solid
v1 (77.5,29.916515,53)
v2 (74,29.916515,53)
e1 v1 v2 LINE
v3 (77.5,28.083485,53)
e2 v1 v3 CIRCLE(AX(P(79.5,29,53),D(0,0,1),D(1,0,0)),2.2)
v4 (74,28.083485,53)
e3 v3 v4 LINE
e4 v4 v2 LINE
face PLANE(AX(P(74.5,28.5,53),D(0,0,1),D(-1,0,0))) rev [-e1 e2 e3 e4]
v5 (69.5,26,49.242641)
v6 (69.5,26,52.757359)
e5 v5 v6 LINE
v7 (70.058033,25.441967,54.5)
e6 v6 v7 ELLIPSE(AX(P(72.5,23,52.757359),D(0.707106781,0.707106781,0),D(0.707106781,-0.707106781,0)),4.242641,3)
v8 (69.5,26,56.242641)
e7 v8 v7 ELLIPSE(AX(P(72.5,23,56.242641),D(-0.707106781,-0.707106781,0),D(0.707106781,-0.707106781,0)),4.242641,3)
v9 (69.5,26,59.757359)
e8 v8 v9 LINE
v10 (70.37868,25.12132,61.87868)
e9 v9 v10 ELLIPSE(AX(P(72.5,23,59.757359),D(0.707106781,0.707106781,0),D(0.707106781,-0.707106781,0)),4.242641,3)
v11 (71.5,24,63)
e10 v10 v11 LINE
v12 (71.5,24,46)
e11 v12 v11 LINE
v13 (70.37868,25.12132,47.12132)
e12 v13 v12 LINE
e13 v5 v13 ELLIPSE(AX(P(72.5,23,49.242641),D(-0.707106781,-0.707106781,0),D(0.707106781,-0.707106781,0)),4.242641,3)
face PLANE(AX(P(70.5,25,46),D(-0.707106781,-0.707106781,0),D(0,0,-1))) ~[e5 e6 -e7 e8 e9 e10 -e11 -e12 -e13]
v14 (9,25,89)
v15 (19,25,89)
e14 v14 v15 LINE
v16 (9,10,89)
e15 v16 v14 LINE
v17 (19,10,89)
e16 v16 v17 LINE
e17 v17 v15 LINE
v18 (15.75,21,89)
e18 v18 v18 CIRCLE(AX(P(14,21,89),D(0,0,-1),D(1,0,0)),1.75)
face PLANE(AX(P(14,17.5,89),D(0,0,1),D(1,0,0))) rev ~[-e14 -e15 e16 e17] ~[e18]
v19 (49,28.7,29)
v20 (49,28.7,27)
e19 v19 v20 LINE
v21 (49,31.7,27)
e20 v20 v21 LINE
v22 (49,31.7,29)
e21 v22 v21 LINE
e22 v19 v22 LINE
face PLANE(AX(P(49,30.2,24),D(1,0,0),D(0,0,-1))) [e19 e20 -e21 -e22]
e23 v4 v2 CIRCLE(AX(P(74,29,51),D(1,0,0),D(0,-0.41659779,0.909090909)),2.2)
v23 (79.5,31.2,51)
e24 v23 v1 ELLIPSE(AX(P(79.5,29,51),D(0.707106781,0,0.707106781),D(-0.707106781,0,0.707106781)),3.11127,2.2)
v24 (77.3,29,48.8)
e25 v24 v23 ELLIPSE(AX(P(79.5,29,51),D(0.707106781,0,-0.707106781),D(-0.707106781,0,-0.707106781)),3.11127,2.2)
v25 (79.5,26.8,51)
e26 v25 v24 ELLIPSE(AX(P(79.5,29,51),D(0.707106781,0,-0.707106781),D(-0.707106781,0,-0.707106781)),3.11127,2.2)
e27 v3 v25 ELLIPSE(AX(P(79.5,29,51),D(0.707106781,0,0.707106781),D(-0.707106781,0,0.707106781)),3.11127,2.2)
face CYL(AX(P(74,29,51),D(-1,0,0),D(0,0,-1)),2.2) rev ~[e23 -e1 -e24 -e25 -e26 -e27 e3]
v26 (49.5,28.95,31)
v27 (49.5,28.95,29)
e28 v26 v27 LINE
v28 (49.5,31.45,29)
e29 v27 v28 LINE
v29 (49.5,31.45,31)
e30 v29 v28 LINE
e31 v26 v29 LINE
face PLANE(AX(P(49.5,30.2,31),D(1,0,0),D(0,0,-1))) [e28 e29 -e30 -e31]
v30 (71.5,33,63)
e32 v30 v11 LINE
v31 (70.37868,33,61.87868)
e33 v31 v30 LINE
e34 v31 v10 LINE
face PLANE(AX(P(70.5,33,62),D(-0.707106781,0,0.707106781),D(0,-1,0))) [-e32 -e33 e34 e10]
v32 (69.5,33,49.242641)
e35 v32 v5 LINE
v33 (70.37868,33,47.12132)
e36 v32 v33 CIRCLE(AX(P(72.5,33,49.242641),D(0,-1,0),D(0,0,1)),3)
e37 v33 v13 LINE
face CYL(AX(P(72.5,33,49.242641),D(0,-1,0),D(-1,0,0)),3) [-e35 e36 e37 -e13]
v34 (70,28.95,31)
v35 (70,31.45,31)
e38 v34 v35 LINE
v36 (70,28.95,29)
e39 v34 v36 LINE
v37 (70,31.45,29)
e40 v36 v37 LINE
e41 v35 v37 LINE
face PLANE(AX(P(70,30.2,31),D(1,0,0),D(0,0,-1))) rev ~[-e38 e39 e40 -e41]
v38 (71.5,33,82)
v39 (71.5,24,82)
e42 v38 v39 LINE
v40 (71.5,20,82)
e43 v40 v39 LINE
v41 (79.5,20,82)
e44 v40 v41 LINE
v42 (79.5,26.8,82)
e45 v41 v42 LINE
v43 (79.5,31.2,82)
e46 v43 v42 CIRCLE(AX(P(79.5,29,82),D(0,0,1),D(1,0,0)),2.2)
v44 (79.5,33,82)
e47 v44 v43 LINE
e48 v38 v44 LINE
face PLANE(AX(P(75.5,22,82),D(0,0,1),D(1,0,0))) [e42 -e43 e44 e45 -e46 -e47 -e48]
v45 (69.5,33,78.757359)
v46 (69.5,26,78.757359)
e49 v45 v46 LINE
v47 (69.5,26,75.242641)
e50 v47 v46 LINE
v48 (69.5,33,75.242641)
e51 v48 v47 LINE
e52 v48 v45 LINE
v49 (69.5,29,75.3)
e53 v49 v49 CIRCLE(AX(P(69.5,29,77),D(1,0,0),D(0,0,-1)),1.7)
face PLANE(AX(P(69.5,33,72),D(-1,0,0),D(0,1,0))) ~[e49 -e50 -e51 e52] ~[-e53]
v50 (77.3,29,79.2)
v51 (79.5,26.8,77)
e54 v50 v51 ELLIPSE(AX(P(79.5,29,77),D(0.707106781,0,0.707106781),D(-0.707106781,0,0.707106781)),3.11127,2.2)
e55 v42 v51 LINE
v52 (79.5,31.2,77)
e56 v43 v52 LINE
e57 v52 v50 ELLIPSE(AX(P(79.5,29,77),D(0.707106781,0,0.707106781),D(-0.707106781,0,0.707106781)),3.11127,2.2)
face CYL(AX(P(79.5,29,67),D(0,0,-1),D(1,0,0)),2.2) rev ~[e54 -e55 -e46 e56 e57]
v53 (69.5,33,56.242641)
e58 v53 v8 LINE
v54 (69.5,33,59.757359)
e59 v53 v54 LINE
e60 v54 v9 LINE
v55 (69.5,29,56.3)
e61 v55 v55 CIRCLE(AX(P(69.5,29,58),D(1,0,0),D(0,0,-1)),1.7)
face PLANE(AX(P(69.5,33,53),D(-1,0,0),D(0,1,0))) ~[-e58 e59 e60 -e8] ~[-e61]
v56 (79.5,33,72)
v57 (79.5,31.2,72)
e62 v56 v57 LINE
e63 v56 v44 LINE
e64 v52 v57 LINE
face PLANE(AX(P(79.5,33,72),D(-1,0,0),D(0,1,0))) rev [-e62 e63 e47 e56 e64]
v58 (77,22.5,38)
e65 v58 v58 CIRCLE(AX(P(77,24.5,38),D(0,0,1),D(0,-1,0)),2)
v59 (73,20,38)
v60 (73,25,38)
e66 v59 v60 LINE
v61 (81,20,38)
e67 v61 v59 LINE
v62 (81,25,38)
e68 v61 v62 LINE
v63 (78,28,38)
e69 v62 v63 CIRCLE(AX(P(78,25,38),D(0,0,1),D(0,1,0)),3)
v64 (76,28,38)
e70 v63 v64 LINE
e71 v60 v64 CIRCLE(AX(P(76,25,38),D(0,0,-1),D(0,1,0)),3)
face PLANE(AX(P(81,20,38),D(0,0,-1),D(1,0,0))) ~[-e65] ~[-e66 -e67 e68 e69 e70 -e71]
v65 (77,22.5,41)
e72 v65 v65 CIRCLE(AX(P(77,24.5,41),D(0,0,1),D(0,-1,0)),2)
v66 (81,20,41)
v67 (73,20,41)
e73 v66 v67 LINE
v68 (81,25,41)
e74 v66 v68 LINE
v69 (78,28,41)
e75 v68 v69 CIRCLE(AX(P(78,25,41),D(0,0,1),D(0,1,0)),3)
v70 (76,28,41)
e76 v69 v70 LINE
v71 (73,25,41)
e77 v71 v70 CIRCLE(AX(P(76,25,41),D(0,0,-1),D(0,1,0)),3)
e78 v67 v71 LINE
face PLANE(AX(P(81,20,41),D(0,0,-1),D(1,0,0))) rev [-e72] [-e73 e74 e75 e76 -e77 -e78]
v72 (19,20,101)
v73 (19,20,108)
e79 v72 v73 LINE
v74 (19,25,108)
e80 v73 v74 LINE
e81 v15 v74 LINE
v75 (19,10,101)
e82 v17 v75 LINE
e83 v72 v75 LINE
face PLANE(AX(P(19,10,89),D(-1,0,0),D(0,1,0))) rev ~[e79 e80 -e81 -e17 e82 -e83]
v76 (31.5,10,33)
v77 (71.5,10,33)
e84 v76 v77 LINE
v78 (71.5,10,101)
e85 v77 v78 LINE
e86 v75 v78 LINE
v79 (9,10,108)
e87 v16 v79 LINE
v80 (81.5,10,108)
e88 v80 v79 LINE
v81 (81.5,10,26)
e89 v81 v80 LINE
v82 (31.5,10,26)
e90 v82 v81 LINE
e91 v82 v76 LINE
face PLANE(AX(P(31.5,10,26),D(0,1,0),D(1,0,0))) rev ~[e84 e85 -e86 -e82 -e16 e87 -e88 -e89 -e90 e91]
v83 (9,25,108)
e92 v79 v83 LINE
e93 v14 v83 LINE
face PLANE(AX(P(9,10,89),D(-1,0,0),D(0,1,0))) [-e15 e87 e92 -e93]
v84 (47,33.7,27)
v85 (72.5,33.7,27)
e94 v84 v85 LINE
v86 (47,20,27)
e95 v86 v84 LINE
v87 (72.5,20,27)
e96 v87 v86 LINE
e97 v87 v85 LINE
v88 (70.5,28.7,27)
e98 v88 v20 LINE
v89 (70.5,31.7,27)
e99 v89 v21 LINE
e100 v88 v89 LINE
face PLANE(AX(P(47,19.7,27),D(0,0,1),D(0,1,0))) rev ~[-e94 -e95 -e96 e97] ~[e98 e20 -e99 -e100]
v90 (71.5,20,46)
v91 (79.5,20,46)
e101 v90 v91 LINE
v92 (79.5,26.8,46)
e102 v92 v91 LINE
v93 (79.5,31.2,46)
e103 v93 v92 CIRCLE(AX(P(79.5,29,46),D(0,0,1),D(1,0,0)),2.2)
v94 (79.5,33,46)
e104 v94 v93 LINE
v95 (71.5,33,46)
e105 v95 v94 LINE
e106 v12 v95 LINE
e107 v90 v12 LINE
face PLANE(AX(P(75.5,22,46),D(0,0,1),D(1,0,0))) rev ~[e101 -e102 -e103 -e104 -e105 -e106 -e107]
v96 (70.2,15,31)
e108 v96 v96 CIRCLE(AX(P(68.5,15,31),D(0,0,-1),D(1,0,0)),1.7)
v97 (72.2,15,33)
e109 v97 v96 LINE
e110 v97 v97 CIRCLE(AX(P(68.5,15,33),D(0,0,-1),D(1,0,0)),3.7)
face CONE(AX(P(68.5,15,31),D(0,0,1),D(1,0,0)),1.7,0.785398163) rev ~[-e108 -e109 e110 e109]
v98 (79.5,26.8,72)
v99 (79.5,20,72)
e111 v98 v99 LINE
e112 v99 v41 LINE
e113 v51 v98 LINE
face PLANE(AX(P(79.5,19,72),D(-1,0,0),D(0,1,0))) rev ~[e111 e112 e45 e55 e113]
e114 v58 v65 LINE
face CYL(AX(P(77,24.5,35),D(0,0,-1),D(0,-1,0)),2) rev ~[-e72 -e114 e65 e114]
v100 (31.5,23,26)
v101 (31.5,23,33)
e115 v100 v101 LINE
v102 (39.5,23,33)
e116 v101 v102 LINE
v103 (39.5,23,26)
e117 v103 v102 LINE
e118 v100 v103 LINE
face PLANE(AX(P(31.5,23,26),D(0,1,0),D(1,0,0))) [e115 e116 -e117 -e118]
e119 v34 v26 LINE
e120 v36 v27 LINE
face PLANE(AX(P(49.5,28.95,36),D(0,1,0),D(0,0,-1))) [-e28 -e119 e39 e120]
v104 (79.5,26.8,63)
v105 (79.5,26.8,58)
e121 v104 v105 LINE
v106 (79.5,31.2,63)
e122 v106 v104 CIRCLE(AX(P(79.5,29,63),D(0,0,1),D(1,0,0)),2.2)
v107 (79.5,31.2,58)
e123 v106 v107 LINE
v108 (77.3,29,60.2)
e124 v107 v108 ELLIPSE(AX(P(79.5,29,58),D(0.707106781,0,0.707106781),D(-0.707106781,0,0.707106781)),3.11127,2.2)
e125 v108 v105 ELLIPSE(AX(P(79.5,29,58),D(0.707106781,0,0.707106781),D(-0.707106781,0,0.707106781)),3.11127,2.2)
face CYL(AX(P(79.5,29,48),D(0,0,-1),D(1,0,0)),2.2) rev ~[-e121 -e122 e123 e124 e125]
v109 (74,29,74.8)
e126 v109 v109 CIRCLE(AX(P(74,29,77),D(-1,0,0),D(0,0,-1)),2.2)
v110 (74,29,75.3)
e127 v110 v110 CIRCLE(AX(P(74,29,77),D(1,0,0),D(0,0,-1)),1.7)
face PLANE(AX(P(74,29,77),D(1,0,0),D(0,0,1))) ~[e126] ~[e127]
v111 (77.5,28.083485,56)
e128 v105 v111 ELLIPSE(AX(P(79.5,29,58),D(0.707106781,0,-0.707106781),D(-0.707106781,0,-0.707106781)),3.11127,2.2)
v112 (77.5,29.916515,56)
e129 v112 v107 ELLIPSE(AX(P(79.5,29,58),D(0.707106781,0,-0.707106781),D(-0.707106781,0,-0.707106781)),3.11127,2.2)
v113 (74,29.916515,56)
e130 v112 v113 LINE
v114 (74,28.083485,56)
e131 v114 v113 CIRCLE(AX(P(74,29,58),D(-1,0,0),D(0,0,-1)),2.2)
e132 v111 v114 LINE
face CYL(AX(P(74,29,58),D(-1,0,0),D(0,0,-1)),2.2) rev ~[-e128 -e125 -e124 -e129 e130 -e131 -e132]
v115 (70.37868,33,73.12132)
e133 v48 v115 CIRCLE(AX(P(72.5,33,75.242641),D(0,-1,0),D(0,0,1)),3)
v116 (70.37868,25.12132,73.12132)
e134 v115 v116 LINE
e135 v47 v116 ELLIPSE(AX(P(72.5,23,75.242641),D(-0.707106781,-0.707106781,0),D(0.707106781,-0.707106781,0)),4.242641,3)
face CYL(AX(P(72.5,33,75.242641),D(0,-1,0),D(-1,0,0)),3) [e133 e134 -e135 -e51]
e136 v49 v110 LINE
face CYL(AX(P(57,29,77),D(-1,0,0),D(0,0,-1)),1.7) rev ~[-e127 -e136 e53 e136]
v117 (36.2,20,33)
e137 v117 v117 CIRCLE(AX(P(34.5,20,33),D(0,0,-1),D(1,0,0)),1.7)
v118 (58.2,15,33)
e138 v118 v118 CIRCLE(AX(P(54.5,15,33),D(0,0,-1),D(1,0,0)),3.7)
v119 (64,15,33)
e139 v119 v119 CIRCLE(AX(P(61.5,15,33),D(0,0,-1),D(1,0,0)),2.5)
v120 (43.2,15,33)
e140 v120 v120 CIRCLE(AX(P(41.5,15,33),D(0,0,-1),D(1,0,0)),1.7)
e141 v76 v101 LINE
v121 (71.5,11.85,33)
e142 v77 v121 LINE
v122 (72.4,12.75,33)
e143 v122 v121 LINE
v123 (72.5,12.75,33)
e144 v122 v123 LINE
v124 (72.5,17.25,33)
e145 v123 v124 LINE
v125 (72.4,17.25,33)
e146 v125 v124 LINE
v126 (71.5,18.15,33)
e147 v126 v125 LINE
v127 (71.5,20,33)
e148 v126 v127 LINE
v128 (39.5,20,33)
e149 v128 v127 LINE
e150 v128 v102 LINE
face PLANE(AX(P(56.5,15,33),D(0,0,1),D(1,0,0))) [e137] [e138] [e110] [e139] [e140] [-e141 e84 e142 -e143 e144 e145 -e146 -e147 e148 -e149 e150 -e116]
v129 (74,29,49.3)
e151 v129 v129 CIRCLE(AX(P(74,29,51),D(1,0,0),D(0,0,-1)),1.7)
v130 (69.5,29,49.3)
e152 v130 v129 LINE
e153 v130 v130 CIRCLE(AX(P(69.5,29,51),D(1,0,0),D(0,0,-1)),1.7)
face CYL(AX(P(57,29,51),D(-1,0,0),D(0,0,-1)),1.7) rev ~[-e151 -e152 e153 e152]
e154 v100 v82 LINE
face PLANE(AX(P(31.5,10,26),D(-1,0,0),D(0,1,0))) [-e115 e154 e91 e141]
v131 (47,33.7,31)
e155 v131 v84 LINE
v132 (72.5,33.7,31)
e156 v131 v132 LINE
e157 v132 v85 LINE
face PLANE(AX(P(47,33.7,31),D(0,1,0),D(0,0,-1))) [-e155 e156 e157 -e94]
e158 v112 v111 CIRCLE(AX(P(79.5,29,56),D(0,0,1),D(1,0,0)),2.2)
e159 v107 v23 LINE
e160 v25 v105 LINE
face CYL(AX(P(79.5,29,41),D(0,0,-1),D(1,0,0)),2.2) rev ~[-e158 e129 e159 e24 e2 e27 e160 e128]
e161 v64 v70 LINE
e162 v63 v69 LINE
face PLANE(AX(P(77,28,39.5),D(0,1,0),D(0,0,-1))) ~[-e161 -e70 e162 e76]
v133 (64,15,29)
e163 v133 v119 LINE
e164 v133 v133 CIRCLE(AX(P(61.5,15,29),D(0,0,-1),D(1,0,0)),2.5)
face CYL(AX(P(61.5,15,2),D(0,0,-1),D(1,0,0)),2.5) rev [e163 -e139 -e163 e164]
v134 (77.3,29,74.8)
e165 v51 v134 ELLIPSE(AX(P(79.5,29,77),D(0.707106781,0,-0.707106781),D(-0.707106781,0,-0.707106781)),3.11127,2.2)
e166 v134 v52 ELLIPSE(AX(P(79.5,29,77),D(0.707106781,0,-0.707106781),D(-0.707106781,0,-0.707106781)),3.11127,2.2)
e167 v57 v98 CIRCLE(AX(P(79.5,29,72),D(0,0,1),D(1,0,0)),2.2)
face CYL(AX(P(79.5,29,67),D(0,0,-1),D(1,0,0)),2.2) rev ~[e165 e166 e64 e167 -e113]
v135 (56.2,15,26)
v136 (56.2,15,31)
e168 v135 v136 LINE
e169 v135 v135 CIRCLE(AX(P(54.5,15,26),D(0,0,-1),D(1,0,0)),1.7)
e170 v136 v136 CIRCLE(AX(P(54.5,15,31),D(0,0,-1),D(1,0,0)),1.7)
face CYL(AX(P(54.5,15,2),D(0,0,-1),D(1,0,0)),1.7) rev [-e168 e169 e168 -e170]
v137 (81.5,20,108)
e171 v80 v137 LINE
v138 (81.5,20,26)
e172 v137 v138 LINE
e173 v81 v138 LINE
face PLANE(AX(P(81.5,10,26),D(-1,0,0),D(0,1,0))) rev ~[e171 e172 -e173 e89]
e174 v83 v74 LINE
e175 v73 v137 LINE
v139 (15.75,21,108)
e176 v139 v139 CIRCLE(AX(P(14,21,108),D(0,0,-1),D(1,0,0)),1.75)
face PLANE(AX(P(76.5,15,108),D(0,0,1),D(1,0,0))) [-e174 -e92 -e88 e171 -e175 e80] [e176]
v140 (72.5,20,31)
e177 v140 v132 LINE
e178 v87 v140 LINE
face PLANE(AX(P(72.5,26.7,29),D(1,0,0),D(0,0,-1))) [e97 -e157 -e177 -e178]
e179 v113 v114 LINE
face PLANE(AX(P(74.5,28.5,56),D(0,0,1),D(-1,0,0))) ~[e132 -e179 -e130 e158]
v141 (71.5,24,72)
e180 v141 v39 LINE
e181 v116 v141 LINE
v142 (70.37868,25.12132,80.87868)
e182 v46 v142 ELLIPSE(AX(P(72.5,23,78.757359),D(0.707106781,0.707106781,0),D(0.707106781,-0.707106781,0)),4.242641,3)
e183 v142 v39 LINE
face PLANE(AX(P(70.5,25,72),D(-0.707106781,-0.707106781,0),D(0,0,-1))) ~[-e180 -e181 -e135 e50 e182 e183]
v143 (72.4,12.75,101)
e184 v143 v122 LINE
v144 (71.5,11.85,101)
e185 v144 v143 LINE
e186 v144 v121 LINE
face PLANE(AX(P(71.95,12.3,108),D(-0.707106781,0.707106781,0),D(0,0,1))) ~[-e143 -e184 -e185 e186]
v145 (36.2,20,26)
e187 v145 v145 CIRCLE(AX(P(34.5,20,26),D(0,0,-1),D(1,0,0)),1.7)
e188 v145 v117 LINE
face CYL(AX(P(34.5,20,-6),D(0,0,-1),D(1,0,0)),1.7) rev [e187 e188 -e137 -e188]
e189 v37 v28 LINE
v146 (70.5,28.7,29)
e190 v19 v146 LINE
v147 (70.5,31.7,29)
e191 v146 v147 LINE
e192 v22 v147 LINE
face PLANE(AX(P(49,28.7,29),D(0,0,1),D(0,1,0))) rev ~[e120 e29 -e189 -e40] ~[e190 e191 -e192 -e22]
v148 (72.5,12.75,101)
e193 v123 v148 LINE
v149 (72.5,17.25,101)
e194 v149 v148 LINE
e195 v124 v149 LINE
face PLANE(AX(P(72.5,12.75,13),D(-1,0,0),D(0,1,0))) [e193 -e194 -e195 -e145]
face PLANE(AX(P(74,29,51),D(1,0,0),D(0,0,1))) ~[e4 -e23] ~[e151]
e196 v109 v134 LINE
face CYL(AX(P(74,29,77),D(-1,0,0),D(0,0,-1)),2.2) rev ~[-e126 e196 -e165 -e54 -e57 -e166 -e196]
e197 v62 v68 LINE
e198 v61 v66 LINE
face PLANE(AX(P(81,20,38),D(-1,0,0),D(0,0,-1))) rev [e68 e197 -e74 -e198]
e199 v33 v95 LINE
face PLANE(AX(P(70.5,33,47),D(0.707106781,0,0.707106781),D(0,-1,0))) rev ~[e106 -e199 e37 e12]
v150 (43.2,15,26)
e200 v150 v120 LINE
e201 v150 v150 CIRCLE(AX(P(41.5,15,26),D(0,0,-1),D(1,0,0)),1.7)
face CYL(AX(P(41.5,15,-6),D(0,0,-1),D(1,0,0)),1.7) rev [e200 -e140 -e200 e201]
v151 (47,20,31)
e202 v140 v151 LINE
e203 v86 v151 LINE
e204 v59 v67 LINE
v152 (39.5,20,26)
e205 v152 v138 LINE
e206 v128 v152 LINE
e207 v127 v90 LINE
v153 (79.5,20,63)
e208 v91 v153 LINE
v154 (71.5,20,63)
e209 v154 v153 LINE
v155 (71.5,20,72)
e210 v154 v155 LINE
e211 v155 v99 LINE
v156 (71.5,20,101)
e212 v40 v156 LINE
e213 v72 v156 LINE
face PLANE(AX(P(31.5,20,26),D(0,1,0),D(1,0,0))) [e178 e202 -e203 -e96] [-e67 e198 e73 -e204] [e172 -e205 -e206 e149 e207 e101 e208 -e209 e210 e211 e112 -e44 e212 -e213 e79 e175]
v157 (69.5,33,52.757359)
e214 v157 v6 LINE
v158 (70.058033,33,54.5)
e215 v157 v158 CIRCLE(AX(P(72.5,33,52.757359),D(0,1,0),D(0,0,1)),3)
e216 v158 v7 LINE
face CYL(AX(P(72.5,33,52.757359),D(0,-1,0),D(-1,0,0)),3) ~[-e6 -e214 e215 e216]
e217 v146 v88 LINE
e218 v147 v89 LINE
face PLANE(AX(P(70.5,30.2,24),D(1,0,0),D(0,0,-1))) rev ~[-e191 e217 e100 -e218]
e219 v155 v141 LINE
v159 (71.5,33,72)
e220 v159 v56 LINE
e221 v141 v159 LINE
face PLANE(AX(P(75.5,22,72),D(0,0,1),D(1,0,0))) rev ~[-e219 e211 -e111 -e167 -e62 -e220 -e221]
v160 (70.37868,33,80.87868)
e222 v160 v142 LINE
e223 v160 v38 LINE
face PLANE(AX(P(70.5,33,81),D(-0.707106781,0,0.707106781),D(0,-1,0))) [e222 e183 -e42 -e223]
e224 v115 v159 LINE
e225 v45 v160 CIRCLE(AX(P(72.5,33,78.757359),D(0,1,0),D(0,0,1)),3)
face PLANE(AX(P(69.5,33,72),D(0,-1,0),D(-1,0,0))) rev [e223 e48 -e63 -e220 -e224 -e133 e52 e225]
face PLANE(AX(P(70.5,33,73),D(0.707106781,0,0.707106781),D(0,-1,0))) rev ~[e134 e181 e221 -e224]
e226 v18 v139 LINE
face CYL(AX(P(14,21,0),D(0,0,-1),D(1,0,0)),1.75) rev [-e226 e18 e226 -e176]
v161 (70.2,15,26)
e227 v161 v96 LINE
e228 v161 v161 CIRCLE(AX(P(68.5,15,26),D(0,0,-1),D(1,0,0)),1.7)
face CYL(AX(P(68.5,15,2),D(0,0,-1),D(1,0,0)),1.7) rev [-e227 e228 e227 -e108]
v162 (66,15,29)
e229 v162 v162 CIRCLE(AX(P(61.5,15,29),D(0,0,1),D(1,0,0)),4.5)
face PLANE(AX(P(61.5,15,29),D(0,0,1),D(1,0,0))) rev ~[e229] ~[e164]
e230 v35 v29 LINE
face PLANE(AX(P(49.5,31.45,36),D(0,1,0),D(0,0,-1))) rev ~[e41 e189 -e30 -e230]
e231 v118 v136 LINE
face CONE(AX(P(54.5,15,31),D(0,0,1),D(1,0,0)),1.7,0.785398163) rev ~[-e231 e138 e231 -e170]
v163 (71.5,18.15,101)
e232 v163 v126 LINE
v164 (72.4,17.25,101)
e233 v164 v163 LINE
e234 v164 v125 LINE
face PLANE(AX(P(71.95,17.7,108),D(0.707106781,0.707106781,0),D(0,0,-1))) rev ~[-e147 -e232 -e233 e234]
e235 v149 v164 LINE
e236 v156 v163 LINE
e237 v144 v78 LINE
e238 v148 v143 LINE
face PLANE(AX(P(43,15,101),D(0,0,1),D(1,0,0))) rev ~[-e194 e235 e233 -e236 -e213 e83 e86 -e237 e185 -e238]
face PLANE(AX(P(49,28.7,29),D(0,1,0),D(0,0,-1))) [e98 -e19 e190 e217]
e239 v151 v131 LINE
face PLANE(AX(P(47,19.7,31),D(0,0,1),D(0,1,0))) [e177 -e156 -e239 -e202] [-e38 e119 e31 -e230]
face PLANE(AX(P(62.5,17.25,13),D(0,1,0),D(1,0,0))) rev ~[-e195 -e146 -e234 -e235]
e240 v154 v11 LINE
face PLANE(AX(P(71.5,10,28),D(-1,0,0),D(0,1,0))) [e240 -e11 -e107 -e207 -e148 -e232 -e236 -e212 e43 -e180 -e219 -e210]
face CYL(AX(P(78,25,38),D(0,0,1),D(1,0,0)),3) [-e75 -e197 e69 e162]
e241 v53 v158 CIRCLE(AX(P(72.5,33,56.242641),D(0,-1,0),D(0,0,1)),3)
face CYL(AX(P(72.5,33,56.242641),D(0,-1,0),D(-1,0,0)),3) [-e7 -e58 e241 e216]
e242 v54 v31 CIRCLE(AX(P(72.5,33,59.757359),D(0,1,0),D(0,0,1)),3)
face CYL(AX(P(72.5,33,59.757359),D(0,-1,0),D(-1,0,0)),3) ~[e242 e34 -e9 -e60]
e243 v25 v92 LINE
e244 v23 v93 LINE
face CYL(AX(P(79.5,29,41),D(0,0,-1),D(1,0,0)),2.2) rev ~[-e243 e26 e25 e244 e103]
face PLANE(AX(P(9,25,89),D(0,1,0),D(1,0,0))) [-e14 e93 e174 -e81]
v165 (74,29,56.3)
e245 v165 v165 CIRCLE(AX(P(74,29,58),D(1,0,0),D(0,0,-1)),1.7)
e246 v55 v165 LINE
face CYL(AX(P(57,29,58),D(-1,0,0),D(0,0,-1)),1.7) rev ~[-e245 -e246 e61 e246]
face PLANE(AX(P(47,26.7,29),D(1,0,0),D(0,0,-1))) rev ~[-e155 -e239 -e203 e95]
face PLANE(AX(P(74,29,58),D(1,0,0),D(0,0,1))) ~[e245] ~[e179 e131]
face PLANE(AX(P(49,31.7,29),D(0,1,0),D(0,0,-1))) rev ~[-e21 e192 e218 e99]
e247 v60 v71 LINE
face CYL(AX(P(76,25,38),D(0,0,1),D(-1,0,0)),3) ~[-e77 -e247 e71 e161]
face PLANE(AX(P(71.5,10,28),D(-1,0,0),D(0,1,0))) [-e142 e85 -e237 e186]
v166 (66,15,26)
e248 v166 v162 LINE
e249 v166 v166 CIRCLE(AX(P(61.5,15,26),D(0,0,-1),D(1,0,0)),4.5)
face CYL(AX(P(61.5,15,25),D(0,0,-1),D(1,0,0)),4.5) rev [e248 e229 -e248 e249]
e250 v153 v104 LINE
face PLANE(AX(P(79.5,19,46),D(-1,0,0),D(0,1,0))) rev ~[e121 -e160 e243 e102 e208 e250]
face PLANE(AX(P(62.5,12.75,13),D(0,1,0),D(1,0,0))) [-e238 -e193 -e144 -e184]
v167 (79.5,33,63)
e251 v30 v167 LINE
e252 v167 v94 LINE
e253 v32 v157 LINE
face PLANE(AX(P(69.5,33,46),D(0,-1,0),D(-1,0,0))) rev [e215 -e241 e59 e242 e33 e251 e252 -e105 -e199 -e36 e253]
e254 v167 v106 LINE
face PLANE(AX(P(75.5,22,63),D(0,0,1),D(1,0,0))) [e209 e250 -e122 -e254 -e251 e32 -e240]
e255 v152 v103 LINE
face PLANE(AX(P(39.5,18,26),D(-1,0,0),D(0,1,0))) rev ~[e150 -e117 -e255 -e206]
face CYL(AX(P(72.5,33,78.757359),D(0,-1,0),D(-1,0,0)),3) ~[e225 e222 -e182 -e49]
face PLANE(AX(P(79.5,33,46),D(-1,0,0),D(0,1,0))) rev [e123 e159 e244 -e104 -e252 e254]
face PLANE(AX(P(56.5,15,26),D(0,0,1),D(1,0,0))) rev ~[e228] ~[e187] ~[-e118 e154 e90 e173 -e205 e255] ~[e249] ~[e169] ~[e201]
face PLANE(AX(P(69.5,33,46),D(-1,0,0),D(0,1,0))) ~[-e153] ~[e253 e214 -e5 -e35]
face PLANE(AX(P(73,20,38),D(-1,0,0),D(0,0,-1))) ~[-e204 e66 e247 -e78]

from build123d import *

# Parameters (mm, degrees)
BOX001027045198_W       = 10
BOX001027045198_H       = 2.5
BOX001027045198_DEPTH   = 20.5
BOX001027045197_W       = 10
BOX001027045197_H       = 3
BOX001027045197_DEPTH   = 21.5
BOX001027045196_W       = 4
BOX001027045196_H       = 14
BOX001027045196_DEPTH   = 25.5
CUT238_PITCH_ANGLE      = 90
CYLINDER070_R           = 1.7
CYLINDER070_DEPTH       = 50
CYLINDER069_R           = 1.7
CYLINDER069_DEPTH       = 50
CYLINDER068_R           = 1.7
CYLINDER068_DEPTH       = 50
CYLINDER067_R           = 1.7
CYLINDER067_DEPTH       = 50
CYLINDER063_R           = 2.5
CYLINDER063_DEPTH       = 50
CYLINDER064_R           = 4.5
CYLINDER064_DEPTH       = 4
BOX035_W                = 50
BOX035_H                = 10
BOX035_DEPTH            = 7
BOX034_W                = 10
BOX034_H                = 4.5
BOX034_DEPTH            = 122
BOX033_W                = 10
BOX033_H                = 10
BOX033_DEPTH            = 80
CHAMFER_SIZE            = 0.9
BOX041_W                = 8
BOX041_H                = 5
BOX041_DEPTH            = 7
CHAMFER017_SIZE         = 2
CYLINDER273_R           = 2
CYLINDER273_DEPTH       = 10
CYLINDER273_PITCH_ANGLE = 90
BOX001027045201_W       = 3
BOX001027045201_H       = 8
BOX001027045201_DEPTH   = 8
FILLET047_R             = 3
CUT246_PITCH_ANGLE      = -90
CUT246_PLACEMENT_ANGLE  = 90
BOX001027045204_W       = 8
BOX001027045204_H       = 6
BOX001027045204_DEPTH   = 17
BOX001027045205_W       = 8
BOX001027045205_H       = 6
BOX001027045205_DEPTH   = 10
CYLINDER272_R           = 2.2
CYLINDER272_DEPTH       = 30
CYLINDER271_R           = 2.2
CYLINDER271_DEPTH       = 30
CYLINDER271_PITCH_ANGLE = 90
CYLINDER270_R           = 1.7
CYLINDER270_DEPTH       = 30
CYLINDER270_PITCH_ANGLE = 90
BOX001027045200_W       = 10
BOX001027045200_H       = 9
BOX001027045200_DEPTH   = 10
CHAMFER015_SIZE         = 2
CHAMFER016_SIZE         = 2
FILLET046_R             = 3
CYLINDER275_R           = 1.75
CYLINDER275_DEPTH       = 200
BOX001027045203_W       = 10
BOX001027045203_H       = 15
BOX001027045203_DEPTH   = 19
BOX001027045202_W       = 68
BOX001027045202_H       = 10
BOX001027045202_DEPTH   = 7


with BuildPart() as cube244:
    # Box001027045198 → Box001027045198 (new body)
    with BuildSketch(Plane(origin=(63, 7.25, -46.5), x_dir=(1, 0, 0), z_dir=(0, 0, 1))):
        with Locations((5, 1.25)):
            Rectangle(BOX001027045198_W, BOX001027045198_H)
    extrude(amount=BOX001027045198_DEPTH)


with BuildPart() as pin_strip_hole:
    # Box001027045197 → Box001027045197 (new body)
    with BuildSketch(Plane(origin=(70, 7, -47), x_dir=(1, 0, 0), z_dir=(0, 0, 1))):
        with Locations((5, 1.5)):
            Rectangle(BOX001027045197_W, BOX001027045197_H)
    extrude(amount=BOX001027045197_DEPTH)

    # Fusion112152: union Cube244
    add(cube244.part)


with BuildPart() as pin_strip_hole_1:
    # Fusion112152 placement: moved
    add(pin_strip_hole.part.moved(Location((2, 0, 0))))


with BuildPart() as pin_strip_bracket:
    # Box001027045196 → Box001027045196 (new body)
    with BuildSketch(Plane(origin=(70, -2, -49), x_dir=(1, 0, 0), z_dir=(0, 0, 1))):
        with Locations((2, 7)):
            Rectangle(BOX001027045196_W, BOX001027045196_H)
    extrude(amount=BOX001027045196_DEPTH)

    # Cut238: cut pin-strip-hole
    add(pin_strip_hole_1.part, mode=Mode.SUBTRACT)


with BuildPart() as pin_strip_bracket_1:
    # Cut238 pitch: moved
    add(pin_strip_bracket.part.rotate(Axis((0, 0, 0), (0, 1, 0)), CUT238_PITCH_ANGLE))


with BuildPart() as pin_strip_bracket_2:
    # Cut238 placement: moved
    add(pin_strip_bracket_1.part.moved(Location((96, 21.7, 101))))


with BuildPart() as m3_studding011:
    # Cylinder070 → Cylinder070 (new body)
    with BuildSketch(Plane(origin=(41.5, 15, -6), x_dir=(1, 0, 0), z_dir=(0, 0, 1))):
        Circle(CYLINDER070_R)
    extrude(amount=CYLINDER070_DEPTH)


with BuildPart() as m3_clearance001:
    # Cylinder069 → Cylinder069 (new body)
    with BuildSketch(Plane(origin=(34.5, 20, -6), x_dir=(1, 0, 0), z_dir=(0, 0, 1))):
        Circle(CYLINDER069_R)
    extrude(amount=CYLINDER069_DEPTH)

    # Fusion041: union m3-studding011
    add(m3_studding011.part)


with BuildPart() as m3_studding009:
    # Cylinder068 → Cylinder068 (new body)
    with BuildSketch(Plane(origin=(68.5, 15, 2), x_dir=(1, 0, 0), z_dir=(0, 0, 1))):
        Circle(CYLINDER068_R)
    extrude(amount=CYLINDER068_DEPTH)


with BuildPart() as m3_clearance004:
    # Cylinder067 → Cylinder067 (new body)
    with BuildSketch(Plane(origin=(54.5, 15, 2), x_dir=(1, 0, 0), z_dir=(0, 0, 1))):
        Circle(CYLINDER067_R)
    extrude(amount=CYLINDER067_DEPTH)

    # Fusion039: union m3-studding009
    add(m3_studding009.part)


with BuildPart() as nut_clearance:
    # Cylinder063 → Cylinder063 (new body)
    with BuildSketch(Plane(origin=(61.5, 15, 2), x_dir=(1, 0, 0), z_dir=(0, 0, 1))):
        Circle(CYLINDER063_R)
    extrude(amount=CYLINDER063_DEPTH)


with BuildPart() as bearing_nuts:
    # Cylinder064 → Cylinder064 (new body)
    with BuildSketch(Plane(origin=(61.5, 15, 25), x_dir=(1, 0, 0), z_dir=(0, 0, 1))):
        Circle(CYLINDER064_R)
    extrude(amount=CYLINDER064_DEPTH)

    # Fusion036: union nut-clearance
    add(nut_clearance.part)


with BuildPart() as cube032:
    # Box035 → Box035 (new body)
    with BuildSketch(Plane(origin=(31.5, 10, 26), x_dir=(1, 0, 0), z_dir=(0, 0, 1))):
        with Locations((25, 5)):
            Rectangle(BOX035_W, BOX035_H)
    extrude(amount=BOX035_DEPTH)


with BuildPart() as cube031:
    # Box034 → Box034 (new body)
    with BuildSketch(Plane(origin=(62.5, 12.75, 10), x_dir=(1, 0, 0), z_dir=(0, 0, 1))):
        with Locations((5, 2.25)):
            Rectangle(BOX034_W, BOX034_H)
    extrude(amount=BOX034_DEPTH)


with BuildPart() as track_blank_c:
    # Box033 → Box033 (new body)
    with BuildSketch(Plane(origin=(71.5, 10, 25), x_dir=(1, 0, 0), z_dir=(0, 0, 1))):
        with Locations((5, 5)):
            Rectangle(BOX033_W, BOX033_H)
    extrude(amount=BOX033_DEPTH)

    # Cut022: cut Cube031
    add(cube031.part, mode=Mode.SUBTRACT)

    # Chamfer
    chamfer_edges = [track_blank_c.edges().sort_by_distance(p)[0] for p in [
        (71.5, 12.75, 65),
        (71.5, 17.25, 65),
    ]]
    chamfer(chamfer_edges, length=CHAMFER_SIZE)


with BuildPart() as track_blank_c_1:
    # Chamfer placement: moved
    add(track_blank_c.part.moved(Location((0, 0, 3))))

    # Fusion035: union Cube032
    add(cube032.part)

    # Cut024: cut bearing-nuts
    add(bearing_nuts.part, mode=Mode.SUBTRACT)

    # Cut027: cut M3-clearance004
    add(m3_clearance004.part, mode=Mode.SUBTRACT)


with BuildPart() as track_blank_f:
    # Box041 → Box041 (new body)
    with BuildSketch(Plane(origin=(31.5, 18, 26), x_dir=(1, 0, 0), z_dir=(0, 0, 1))):
        with Locations((4, 2.5)):
            Rectangle(BOX041_W, BOX041_H)
    extrude(amount=BOX041_DEPTH)

    # Fusion040: union track-blank-c
    add(track_blank_c_1.part)

    # Cut029: cut M3-clearance001
    add(m3_clearance001.part, mode=Mode.SUBTRACT)

    # Chamfer017
    chamfer017_edges = [track_blank_f.edges().sort_by_distance(p)[0] for p in [
        (52.8, 15, 33),
        (66.8, 15, 33),
    ]]
    chamfer(chamfer017_edges, length=CHAMFER017_SIZE)


with BuildPart() as cylinder289:
    # Cylinder273 → Cylinder273 (new body)
    with BuildSketch(Plane.XY):
        Circle(CYLINDER273_R)
    extrude(amount=CYLINDER273_DEPTH)


with BuildPart() as cylinder289_1:
    # Cylinder273 pitch: moved
    add(cylinder289.part.rotate(Axis((0, 0, 0), (0, 1, 0)), CYLINDER273_PITCH_ANGLE))


with BuildPart() as cylinder289_2:
    # Cylinder273 placement: moved
    add(cylinder289_1.part.moved(Location((-3, 4, 4.5))))


with BuildPart() as cable_tie_holder:
    # Box001027045201 → Box001027045201 (new body)
    with BuildSketch(Plane.XY):
        with Locations((1.5, 4)):
            Rectangle(BOX001027045201_W, BOX001027045201_H)
    extrude(amount=BOX001027045201_DEPTH)

    # Fillet047
    fillet047_edges = [cable_tie_holder.edges().sort_by_distance(p)[0] for p in [
        (1.5, 0, 8),
        (1.5, 8, 8),
    ]]
    fillet(fillet047_edges, radius=FILLET047_R)

    # Cut246: cut Cylinder289
    add(cylinder289_2.part, mode=Mode.SUBTRACT)


with BuildPart() as cable_tie_holder_1:
    # Cut246 pitch: moved
    add(cable_tie_holder.part.rotate(Axis((0, 0, 0), (0, 1, 0)), CUT246_PITCH_ANGLE))


with BuildPart() as cable_tie_holder_2:
    # Cut246 placement: moved
    add(cable_tie_holder_1.part.moved(Location((81, 11, 27))).rotate(Axis((81, 11, 27), (0, 0, 1)), CUT246_PLACEMENT_ANGLE))


with BuildPart() as part_mirroring020:
    # Part__Mirroring020: instance of cable-tie-holder
    add(cable_tie_holder_2.part.mirror(Plane(origin=(0, 0, 0), x_dir=(1, 0, 0), z_dir=(0, 1, 0))))


with BuildPart() as part_mirroring020_1:
    # Part__Mirroring020 placement: moved
    add(part_mirroring020.part.moved(Location((0, 31, 11))))


with BuildPart() as cube250:
    # Box001027045204 → Box001027045204 (new body)
    with BuildSketch(Plane(origin=(71.5, 19, 46), x_dir=(1, 0, 0), z_dir=(0, 0, 1))):
        with Locations((4, 3)):
            Rectangle(BOX001027045204_W, BOX001027045204_H)
    extrude(amount=BOX001027045204_DEPTH)


with BuildPart() as cube251:
    # Box001027045205 → Box001027045205 (new body)
    with BuildSketch(Plane(origin=(71.5, 19, 72), x_dir=(1, 0, 0), z_dir=(0, 0, 1))):
        with Locations((4, 3)):
            Rectangle(BOX001027045205_W, BOX001027045205_H)
    extrude(amount=BOX001027045205_DEPTH)


with BuildPart() as cylinder288:
    # Cylinder272 → Cylinder272 (new body)
    with BuildSketch(Plane(origin=(79.5, 5, 48), x_dir=(1, 0, 0), z_dir=(0, 0, 1))):
        Circle(CYLINDER272_R)
    extrude(amount=CYLINDER272_DEPTH)


with BuildPart() as cylinder287:
    # Cylinder271 → Cylinder271 (new body)
    with BuildSketch(Plane.XY):
        Circle(CYLINDER271_R)
    extrude(amount=CYLINDER271_DEPTH)


with BuildPart() as cylinder287_1:
    # Cylinder271 pitch: moved
    add(cylinder287.part.rotate(Axis((0, 0, 0), (0, 1, 0)), CYLINDER271_PITCH_ANGLE))


with BuildPart() as cylinder287_2:
    # Cylinder271 placement: moved
    add(cylinder287_1.part.moved(Location((74, 5, 58))))


with BuildPart() as cylinder286:
    # Cylinder270 → Cylinder270 (new body)
    with BuildSketch(Plane.XY):
        Circle(CYLINDER270_R)
    extrude(amount=CYLINDER270_DEPTH)


with BuildPart() as cylinder286_1:
    # Cylinder270 pitch: moved
    add(cylinder286.part.rotate(Axis((0, 0, 0), (0, 1, 0)), CYLINDER270_PITCH_ANGLE))


with BuildPart() as cylinder286_2:
    # Cylinder270 placement: moved
    add(cylinder286_1.part.moved(Location((57, 5, 58))))


with BuildPart() as led_pt_holder:
    # Box001027045200 → Box001027045200 (new body)
    with BuildSketch(Plane(origin=(71, 1, 53), x_dir=(1, 0, 0), z_dir=(0, 0, 1))):
        with Locations((5, 4.5)):
            Rectangle(BOX001027045200_W, BOX001027045200_H)
    extrude(amount=BOX001027045200_DEPTH)

    # Chamfer015
    chamfer015_edges = [led_pt_holder.edges().sort_by_distance(p)[0] for p in [
        (71, 10, 58),
    ]]
    chamfer(chamfer015_edges, length=CHAMFER015_SIZE)


with BuildPart() as led_pt_holder_1:
    # Chamfer015 placement: moved
    add(led_pt_holder.part.moved(Location((-1.5, 0, 0))))

    # Chamfer016
    chamfer016_edges = [led_pt_holder_1.edges().sort_by_distance(p)[0] for p in [
        (69.5, 4.5, 63),
        (69.5, 4.5, 53),
    ]]
    chamfer(chamfer016_edges, length=CHAMFER016_SIZE)

    # Cut242: cut Cylinder286
    add(cylinder286_2.part, mode=Mode.SUBTRACT)

    # Cut243: cut Cylinder287
    add(cylinder287_2.part, mode=Mode.SUBTRACT)

    # Fillet046
    fillet046_edges = [led_pt_holder_1.edges().sort_by_distance(p)[0] for p in [
        (69.5, 4.5, 55),
        (69.5, 4.5, 61),
    ]]
    fillet(fillet046_edges, radius=FILLET046_R)

    # Cut244: cut Cylinder288
    add(cylinder288.part, mode=Mode.SUBTRACT)


with BuildPart() as part_mirroring018:
    # Part__Mirroring018: instance of led-pt-holder
    add(led_pt_holder_1.part.mirror(Plane(origin=(0, 0, 0), x_dir=(1, 0, 0), z_dir=(0, 1, 0))))


with BuildPart() as part_mirroring018_1:
    # Part__Mirroring018 placement: moved
    add(part_mirroring018.part.moved(Location((0, 30, -7))))


with BuildPart() as part_mirroring017:
    # Part__Mirroring017: instance of led-pt-holder
    add(led_pt_holder_1.part.mirror(Plane(origin=(0, 0, 0), x_dir=(1, 0, 0), z_dir=(0, 1, 0))))


with BuildPart() as part_mirroring017_1:
    # Part__Mirroring017 placement: moved
    add(part_mirroring017.part.moved(Location((0, 30, 19))))


with BuildPart() as led_holders:
    # Part__Mirroring016: instance of led-pt-holder
    add(led_pt_holder_1.part.mirror(Plane(origin=(0, 0, 0), x_dir=(1, 0, 0), z_dir=(0, 1, 0))))


with BuildPart() as led_holders_1:
    # Part__Mirroring016 placement: moved
    add(led_holders.part.moved(Location((0, 30, 0))))

    # Fusion112158: union Part__Mirroring018, Part__Mirroring017
    add(part_mirroring018_1.part)
    add(part_mirroring017_1.part)


with BuildPart() as led_holders_2:
    # Fusion112158 placement: moved
    add(led_holders_1.part.moved(Location((0, 4, 0))))

    # Fusion112160: union Cube250, Cube251
    add(cube250.part)
    add(cube251.part)


with BuildPart() as m3_studding027:
    # Cylinder275 → Cylinder275 (new body)
    with BuildSketch(Plane(origin=(14, 21, 0), x_dir=(1, 0, 0), z_dir=(0, 0, 1))):
        Circle(CYLINDER275_R)
    extrude(amount=CYLINDER275_DEPTH)


with BuildPart() as cube249:
    # Box001027045203 → Box001027045203 (new body)
    with BuildSketch(Plane(origin=(9, 10, 89), x_dir=(1, 0, 0), z_dir=(0, 0, 1))):
        with Locations((5, 7.5)):
            Rectangle(BOX001027045203_W, BOX001027045203_H)
    extrude(amount=BOX001027045203_DEPTH)


with BuildPart() as roller_track:
    # Box001027045202 → Box001027045202 (new body)
    with BuildSketch(Plane(origin=(9, 10, 101), x_dir=(1, 0, 0), z_dir=(0, 0, 1))):
        with Locations((34, 5)):
            Rectangle(BOX001027045202_W, BOX001027045202_H)
    extrude(amount=BOX001027045202_DEPTH)

    # Fusion112162: union Cube249
    add(cube249.part)

    # Cut251: cut m3-studding027
    add(m3_studding027.part, mode=Mode.SUBTRACT)

    # Fusion112163: union pin-strip-bracket, track-blank-f, Part__Mirroring020, led-holders
    add(pin_strip_bracket_2.part)
    add(track_blank_f.part)
    add(part_mirroring020_1.part)
    add(led_holders_2.part)


solid = roller_track.part
